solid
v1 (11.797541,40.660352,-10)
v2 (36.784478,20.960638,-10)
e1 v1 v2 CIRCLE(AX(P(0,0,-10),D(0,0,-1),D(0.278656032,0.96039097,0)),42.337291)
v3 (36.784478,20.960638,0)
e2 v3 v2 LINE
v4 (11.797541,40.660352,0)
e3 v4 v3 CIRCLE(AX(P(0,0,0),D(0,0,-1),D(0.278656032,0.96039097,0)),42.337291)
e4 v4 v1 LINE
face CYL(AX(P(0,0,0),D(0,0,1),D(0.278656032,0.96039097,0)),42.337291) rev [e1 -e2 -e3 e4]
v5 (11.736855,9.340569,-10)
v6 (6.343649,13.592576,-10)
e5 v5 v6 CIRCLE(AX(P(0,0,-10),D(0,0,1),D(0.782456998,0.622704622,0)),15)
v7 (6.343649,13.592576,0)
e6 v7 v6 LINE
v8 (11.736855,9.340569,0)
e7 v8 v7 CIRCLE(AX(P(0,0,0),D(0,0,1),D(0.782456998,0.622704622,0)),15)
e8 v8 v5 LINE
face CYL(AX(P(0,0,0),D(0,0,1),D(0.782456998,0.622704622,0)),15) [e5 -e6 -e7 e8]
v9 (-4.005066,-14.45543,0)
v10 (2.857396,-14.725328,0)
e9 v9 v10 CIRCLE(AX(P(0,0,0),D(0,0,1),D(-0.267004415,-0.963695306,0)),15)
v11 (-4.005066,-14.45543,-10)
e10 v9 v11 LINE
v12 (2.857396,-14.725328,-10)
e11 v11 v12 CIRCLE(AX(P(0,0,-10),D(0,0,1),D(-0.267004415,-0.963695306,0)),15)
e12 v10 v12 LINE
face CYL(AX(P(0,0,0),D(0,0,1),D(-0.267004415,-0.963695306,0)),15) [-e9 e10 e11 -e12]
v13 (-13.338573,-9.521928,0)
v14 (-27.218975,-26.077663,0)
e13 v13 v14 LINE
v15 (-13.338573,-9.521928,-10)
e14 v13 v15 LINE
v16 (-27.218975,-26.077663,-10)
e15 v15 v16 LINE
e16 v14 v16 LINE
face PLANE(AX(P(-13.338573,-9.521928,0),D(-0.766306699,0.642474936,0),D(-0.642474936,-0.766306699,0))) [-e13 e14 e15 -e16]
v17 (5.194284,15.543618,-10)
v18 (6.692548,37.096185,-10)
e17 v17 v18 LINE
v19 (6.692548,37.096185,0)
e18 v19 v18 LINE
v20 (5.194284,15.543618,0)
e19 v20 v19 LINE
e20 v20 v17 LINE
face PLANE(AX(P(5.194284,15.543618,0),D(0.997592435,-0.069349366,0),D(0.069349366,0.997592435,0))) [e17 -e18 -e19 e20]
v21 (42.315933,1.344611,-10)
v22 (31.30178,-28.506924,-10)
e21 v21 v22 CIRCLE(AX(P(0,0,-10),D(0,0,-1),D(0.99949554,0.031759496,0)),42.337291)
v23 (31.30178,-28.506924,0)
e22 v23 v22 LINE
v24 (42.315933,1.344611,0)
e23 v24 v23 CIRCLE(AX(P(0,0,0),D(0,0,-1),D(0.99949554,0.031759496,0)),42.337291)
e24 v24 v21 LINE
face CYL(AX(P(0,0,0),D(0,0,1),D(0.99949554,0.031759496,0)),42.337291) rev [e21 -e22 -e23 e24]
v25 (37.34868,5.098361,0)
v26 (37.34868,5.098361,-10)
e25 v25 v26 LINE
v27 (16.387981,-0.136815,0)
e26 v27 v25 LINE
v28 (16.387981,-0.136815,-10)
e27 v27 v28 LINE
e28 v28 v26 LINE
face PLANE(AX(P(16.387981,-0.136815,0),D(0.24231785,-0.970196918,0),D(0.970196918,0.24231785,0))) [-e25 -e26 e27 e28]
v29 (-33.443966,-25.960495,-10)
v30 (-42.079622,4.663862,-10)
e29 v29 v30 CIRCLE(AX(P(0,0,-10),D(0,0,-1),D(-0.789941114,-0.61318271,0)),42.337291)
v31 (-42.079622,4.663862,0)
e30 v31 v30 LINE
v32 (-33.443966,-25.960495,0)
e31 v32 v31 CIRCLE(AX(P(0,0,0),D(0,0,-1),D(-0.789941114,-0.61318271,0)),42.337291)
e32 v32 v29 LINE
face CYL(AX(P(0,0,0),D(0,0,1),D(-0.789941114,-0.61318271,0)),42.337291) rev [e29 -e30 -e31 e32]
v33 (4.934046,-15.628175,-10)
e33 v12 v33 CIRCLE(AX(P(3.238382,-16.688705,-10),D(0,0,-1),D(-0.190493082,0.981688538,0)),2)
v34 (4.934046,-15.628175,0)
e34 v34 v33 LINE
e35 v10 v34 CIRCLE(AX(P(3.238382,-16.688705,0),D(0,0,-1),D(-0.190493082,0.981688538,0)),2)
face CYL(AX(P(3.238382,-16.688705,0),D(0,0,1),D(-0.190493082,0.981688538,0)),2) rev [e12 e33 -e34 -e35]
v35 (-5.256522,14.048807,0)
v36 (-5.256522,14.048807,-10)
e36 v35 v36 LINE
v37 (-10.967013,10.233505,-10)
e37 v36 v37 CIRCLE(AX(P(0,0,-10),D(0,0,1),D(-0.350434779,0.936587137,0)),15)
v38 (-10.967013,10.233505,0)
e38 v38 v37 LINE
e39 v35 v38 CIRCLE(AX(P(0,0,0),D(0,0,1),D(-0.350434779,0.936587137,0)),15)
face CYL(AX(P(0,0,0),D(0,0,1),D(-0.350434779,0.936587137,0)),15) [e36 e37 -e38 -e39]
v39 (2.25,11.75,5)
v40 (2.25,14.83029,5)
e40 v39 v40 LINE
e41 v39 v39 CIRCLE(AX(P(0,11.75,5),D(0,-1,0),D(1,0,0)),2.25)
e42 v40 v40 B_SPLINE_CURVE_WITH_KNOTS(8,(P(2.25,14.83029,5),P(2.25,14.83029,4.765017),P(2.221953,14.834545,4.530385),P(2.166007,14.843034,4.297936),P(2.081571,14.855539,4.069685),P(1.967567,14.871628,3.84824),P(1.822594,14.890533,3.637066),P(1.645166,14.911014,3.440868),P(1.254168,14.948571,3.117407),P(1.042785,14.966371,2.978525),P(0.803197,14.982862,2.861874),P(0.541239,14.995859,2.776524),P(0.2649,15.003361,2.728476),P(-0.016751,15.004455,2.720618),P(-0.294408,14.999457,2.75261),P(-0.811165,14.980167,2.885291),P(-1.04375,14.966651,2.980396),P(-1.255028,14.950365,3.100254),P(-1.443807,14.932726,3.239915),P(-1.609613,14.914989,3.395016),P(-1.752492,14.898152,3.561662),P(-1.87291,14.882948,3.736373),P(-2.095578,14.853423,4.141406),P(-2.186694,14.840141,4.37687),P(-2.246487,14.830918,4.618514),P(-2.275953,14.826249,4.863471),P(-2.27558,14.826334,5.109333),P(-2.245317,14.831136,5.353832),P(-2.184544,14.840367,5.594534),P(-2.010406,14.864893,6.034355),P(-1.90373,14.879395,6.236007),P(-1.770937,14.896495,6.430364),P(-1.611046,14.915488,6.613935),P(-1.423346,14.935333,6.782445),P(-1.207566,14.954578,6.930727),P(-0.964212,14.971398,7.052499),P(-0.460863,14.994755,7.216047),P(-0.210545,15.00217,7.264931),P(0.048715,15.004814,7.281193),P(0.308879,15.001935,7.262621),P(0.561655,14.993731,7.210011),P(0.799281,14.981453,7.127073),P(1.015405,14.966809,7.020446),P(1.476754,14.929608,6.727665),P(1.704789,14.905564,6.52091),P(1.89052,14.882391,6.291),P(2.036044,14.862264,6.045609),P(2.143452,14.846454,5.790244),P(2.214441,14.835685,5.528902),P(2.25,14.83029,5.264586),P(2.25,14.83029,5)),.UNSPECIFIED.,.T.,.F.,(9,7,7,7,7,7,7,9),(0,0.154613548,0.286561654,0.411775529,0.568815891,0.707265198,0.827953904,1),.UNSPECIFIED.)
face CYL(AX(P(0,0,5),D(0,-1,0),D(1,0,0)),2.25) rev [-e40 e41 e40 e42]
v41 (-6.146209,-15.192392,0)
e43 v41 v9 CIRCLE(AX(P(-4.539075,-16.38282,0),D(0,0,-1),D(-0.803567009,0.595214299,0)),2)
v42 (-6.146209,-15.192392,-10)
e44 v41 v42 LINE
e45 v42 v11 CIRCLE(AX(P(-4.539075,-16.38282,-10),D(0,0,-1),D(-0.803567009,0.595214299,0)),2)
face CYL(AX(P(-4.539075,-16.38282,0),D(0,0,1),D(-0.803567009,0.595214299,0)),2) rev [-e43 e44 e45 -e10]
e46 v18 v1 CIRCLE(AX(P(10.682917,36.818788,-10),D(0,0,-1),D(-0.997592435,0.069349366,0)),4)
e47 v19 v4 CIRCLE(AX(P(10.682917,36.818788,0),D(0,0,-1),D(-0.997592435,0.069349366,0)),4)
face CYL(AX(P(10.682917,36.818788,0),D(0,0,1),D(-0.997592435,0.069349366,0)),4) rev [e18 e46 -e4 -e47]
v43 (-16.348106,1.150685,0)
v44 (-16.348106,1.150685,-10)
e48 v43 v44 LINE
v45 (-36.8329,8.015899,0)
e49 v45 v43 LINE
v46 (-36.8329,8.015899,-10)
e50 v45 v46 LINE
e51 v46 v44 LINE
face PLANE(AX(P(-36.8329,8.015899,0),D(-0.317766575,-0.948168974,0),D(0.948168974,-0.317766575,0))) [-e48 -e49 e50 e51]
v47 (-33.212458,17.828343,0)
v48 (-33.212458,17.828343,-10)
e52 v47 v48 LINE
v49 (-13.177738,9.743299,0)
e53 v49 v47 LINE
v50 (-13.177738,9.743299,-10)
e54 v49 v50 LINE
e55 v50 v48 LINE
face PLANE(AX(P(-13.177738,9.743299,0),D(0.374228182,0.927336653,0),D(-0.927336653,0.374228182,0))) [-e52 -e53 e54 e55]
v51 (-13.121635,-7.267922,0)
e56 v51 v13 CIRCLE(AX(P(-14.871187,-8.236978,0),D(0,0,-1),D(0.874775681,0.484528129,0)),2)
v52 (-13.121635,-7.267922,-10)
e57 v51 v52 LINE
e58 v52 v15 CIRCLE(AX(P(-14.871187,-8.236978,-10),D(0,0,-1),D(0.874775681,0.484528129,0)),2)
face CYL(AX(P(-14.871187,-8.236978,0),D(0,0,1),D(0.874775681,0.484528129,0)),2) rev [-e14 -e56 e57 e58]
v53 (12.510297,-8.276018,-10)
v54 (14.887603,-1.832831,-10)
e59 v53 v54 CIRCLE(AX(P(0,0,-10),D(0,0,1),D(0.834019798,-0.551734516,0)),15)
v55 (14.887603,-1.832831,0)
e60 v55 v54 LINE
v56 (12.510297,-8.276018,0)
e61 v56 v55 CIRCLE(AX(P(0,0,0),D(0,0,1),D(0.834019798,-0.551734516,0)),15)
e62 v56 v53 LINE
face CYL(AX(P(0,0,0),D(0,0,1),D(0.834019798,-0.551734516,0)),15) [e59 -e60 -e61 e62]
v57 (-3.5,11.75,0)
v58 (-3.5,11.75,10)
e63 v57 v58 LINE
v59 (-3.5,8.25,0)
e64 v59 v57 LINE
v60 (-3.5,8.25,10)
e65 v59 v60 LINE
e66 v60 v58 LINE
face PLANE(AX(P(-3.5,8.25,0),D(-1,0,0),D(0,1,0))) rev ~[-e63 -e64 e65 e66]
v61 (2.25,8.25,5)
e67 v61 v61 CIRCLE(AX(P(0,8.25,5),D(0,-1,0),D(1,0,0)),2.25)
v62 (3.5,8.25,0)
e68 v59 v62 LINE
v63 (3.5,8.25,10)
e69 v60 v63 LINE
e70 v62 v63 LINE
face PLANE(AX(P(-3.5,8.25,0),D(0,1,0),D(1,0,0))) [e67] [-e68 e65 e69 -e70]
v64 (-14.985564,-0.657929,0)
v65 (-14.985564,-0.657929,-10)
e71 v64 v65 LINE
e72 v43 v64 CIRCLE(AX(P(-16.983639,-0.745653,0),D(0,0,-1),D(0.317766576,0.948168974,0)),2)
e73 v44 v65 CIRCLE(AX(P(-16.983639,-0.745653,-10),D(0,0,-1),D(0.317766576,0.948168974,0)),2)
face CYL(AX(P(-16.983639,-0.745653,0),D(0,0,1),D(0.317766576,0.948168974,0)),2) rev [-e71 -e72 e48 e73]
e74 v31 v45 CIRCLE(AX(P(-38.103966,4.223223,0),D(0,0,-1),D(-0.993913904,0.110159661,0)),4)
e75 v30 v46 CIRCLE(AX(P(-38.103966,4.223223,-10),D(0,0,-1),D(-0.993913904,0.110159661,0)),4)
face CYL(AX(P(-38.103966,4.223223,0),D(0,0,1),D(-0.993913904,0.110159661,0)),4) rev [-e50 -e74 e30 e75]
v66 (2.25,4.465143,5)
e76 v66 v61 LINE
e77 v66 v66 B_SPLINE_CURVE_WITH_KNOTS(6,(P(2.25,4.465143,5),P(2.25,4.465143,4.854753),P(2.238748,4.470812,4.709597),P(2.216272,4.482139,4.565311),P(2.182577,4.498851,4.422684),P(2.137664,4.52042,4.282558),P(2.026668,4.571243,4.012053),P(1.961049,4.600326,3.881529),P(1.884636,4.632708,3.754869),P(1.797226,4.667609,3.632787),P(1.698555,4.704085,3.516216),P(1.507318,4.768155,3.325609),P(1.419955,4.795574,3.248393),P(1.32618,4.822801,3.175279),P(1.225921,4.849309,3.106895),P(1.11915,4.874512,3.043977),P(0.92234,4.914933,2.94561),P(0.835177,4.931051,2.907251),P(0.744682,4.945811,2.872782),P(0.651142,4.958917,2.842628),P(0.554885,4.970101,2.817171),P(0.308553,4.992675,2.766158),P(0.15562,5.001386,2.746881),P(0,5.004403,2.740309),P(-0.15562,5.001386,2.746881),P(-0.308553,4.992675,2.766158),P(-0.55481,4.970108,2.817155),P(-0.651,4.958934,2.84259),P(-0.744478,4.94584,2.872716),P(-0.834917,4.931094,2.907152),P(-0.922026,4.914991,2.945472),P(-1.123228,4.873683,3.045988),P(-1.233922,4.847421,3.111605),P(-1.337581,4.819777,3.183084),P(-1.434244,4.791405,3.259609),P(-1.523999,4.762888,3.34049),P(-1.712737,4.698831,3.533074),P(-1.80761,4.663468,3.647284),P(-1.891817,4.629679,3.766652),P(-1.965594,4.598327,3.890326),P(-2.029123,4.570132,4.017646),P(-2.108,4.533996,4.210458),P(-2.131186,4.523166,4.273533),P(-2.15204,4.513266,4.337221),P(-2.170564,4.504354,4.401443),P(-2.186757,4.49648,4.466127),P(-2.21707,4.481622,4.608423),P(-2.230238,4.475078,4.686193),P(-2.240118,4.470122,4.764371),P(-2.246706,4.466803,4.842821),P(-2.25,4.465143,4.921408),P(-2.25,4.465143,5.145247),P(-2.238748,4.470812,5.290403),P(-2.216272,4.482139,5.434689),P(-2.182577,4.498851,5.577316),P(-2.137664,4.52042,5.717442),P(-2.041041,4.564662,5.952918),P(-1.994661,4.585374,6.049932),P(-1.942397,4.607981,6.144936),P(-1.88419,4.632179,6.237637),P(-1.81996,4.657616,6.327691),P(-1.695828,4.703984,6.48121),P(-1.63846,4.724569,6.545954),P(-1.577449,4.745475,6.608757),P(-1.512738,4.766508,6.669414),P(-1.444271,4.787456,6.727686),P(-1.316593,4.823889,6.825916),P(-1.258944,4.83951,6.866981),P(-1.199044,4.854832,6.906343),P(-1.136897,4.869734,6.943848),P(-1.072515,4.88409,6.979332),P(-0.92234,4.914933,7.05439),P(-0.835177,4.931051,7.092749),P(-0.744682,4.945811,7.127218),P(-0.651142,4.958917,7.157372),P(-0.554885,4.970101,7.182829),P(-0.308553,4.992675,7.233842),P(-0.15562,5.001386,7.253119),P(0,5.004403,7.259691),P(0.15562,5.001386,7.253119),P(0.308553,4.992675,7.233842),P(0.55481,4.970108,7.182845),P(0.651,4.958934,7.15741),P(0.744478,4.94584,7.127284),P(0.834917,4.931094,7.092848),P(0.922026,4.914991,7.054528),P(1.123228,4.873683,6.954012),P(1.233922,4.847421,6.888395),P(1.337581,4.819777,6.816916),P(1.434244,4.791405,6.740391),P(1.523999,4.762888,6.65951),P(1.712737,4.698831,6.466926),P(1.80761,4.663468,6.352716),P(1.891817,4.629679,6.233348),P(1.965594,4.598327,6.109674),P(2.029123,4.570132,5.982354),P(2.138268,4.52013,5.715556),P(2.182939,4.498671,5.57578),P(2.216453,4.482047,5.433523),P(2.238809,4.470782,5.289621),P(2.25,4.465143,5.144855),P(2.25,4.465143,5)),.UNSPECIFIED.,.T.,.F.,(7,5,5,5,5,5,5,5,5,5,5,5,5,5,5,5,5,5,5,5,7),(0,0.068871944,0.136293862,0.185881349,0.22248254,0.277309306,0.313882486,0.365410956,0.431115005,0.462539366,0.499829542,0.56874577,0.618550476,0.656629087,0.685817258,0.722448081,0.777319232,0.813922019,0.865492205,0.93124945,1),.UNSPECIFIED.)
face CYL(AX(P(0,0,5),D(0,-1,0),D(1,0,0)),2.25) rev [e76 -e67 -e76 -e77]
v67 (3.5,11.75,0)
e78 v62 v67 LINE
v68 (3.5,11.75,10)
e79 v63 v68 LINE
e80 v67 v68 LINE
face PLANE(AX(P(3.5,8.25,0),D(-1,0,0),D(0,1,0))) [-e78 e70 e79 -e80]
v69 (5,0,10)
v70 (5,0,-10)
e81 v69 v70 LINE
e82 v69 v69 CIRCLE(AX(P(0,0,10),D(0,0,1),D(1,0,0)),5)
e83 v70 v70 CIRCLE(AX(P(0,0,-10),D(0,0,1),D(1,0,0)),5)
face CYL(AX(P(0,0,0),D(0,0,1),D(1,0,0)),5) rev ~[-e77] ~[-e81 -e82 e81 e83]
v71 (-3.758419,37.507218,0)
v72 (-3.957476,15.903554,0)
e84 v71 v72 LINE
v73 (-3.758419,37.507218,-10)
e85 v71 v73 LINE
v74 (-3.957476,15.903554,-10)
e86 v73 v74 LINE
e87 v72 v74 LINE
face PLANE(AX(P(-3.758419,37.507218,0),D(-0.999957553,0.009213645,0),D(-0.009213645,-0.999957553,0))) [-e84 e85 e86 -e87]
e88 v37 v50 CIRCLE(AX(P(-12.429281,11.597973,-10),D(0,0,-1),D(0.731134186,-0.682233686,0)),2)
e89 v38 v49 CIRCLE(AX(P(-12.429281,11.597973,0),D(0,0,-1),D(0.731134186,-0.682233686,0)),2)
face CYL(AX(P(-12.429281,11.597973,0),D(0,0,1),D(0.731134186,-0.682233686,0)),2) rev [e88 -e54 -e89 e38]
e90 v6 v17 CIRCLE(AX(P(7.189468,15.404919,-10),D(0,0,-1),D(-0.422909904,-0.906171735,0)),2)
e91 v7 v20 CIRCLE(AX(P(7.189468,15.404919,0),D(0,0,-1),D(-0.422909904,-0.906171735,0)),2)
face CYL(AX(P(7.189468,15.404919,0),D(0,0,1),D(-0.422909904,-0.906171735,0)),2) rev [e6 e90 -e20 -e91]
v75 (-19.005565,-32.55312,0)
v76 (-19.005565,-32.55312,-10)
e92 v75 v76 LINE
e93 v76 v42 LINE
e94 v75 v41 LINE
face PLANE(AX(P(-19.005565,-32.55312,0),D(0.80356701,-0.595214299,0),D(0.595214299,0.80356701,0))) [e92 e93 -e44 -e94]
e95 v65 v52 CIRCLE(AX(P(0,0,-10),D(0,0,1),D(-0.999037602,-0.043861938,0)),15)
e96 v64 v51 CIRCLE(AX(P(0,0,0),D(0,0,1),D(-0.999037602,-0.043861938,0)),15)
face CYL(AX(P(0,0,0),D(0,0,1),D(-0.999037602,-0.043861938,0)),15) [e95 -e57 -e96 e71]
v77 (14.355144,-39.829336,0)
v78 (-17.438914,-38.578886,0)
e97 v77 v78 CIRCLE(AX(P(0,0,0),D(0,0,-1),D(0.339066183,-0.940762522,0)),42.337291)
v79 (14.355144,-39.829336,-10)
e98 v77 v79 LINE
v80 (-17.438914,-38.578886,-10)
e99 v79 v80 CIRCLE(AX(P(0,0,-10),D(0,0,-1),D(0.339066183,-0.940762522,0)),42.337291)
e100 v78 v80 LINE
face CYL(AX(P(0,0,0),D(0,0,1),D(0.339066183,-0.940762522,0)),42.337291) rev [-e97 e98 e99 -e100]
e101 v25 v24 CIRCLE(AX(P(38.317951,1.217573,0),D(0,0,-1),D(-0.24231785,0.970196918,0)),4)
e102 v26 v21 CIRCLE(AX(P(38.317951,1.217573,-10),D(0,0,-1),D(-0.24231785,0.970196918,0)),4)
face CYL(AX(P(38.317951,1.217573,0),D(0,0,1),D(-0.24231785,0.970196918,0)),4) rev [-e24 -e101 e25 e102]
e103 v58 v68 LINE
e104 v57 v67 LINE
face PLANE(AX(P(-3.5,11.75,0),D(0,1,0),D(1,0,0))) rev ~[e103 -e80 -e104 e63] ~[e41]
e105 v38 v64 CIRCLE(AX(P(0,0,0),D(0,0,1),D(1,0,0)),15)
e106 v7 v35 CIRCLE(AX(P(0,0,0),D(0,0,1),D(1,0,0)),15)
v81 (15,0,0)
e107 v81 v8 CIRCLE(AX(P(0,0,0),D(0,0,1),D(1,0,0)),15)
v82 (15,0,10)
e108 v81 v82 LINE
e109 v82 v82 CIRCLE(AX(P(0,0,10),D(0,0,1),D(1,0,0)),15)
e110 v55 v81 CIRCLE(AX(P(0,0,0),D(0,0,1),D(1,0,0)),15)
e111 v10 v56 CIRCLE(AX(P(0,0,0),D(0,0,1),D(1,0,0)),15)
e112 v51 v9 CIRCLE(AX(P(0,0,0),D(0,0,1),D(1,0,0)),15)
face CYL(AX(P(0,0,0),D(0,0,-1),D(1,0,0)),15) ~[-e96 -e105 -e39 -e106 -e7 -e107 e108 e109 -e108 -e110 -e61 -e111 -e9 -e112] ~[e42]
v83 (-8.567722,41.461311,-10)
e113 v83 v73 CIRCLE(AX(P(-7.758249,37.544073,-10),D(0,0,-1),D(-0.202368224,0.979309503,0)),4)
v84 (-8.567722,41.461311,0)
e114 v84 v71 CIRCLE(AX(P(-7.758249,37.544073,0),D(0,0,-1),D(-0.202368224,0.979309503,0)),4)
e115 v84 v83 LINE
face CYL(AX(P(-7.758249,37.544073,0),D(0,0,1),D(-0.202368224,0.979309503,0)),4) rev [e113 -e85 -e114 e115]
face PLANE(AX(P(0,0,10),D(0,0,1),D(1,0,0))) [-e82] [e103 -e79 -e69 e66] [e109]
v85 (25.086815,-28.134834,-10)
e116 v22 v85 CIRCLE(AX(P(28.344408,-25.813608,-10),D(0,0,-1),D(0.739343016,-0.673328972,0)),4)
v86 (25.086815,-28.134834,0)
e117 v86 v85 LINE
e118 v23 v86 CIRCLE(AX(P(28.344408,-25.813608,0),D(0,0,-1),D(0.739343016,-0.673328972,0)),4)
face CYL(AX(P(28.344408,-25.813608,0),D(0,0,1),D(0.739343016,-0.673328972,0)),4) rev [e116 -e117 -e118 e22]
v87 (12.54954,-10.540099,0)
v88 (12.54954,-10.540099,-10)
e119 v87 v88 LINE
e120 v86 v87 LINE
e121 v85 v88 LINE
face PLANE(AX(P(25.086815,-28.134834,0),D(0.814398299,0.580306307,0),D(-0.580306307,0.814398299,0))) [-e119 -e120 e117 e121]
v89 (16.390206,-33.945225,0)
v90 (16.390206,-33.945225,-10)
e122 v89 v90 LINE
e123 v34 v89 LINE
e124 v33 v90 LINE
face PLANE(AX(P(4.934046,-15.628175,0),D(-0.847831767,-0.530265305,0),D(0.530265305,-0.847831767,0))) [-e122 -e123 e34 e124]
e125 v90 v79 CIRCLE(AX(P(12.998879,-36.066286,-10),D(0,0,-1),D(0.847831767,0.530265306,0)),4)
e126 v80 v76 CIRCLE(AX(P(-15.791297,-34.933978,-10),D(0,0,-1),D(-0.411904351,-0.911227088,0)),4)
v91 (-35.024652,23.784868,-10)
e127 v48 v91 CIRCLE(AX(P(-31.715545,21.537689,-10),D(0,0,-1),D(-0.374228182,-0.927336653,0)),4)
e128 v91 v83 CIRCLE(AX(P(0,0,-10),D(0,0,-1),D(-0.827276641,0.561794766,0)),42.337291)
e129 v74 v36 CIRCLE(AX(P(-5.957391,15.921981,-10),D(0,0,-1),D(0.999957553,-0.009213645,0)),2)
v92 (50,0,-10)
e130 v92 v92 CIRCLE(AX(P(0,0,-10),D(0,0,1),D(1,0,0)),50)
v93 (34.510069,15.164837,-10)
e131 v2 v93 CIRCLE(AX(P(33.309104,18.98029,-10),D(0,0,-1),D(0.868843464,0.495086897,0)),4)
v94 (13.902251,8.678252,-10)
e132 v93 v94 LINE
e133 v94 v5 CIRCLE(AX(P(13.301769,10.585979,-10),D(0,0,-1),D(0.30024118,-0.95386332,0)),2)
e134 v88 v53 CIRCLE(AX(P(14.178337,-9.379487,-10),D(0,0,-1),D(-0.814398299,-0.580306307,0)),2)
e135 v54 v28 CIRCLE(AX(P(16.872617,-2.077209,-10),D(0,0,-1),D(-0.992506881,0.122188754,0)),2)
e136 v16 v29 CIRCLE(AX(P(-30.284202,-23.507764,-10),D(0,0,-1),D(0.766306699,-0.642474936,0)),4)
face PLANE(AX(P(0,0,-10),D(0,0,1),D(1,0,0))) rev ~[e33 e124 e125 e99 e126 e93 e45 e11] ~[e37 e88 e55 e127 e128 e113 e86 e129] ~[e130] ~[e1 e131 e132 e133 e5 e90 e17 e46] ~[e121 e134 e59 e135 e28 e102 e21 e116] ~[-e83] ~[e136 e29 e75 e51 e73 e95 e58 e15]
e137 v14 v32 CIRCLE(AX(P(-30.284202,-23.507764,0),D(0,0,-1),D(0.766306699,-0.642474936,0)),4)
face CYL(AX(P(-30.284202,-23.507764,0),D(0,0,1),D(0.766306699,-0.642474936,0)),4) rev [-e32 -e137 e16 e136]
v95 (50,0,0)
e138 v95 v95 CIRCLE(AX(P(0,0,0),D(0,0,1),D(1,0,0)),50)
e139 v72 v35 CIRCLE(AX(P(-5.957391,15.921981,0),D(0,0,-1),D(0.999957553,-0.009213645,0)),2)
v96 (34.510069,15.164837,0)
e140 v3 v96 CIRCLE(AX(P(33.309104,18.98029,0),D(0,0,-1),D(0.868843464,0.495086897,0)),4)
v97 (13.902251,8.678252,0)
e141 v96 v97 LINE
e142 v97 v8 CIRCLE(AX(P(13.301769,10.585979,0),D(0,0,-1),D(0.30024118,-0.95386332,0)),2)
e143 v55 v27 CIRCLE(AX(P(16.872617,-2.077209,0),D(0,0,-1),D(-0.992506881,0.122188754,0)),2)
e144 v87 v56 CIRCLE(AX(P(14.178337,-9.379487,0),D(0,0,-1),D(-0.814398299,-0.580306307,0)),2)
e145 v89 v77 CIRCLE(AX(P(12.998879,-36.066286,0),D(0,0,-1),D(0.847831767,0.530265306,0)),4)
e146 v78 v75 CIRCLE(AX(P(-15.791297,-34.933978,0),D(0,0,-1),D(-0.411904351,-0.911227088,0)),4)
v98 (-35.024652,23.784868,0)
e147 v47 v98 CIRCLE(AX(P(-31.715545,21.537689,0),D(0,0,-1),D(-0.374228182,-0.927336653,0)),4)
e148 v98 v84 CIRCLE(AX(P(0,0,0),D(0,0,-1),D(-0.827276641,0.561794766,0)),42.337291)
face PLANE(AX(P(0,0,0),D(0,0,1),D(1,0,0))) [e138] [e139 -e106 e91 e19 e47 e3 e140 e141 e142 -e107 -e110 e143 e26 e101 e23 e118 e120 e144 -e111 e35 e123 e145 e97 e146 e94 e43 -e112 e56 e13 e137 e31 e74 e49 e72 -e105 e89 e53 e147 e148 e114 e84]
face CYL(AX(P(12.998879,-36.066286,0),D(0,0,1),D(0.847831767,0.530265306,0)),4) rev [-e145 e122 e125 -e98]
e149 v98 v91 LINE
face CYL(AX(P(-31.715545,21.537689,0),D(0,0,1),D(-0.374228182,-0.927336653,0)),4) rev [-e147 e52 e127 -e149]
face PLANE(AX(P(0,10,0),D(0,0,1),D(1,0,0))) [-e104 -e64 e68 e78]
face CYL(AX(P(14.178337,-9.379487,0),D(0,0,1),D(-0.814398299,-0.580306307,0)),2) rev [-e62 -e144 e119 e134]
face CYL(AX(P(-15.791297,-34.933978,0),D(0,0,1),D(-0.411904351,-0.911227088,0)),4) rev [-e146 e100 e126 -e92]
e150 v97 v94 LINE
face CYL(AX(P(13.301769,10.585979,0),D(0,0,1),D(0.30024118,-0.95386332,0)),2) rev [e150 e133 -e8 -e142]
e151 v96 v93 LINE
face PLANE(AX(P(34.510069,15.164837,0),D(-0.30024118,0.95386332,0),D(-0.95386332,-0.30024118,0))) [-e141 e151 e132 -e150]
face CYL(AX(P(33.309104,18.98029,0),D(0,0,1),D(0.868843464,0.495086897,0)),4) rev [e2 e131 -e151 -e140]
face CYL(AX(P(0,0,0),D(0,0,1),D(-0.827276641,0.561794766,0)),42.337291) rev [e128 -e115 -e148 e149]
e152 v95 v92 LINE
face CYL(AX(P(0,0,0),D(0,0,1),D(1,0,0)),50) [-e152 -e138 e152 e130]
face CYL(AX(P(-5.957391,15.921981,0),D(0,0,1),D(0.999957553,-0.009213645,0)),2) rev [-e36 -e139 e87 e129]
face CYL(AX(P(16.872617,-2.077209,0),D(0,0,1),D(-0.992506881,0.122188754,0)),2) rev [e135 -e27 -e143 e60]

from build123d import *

# Parameters (mm, degrees)
ESQUISSE1_R              = 15
ESQUISSE1_R_2            = 5
BOSS_EXTRU_4_DEPTH       = 10
ESQUISSE3_R              = 50
BOSS_EXTRU_5_DEPTH       = 10
ESQUISSE14_R             = 5
ENL_V_MAT_EXTRU_1_DEPTH  = 10
ENL_V_MAT_EXTRU_7_DEPTH  = 10
ENL_V_MAT_EXTRU_8_REACH  = 52
ESQUISSE20_R             = 2.25
ESQUISSE25_W             = 7
ESQUISSE25_H             = 3.5
ENL_V_MAT_EXTRU_10_DEPTH = 10


with BuildPart() as part:
    # Esquisse1 → Boss.-Extru.4 (new body)
    with BuildSketch(Plane.XY):
        Circle(ESQUISSE1_R)
        Circle(ESQUISSE1_R_2, mode=Mode.SUBTRACT)
    extrude(amount=BOSS_EXTRU_4_DEPTH)

    # Esquisse3 → Boss.-Extru.5 (add)
    with BuildSketch(Plane.XY):
        Circle(ESQUISSE3_R)
    extrude(amount=-BOSS_EXTRU_5_DEPTH)

    # Esquisse14 → Enlèv. mat.-Extru.1 (cut)
    with BuildSketch(Plane.XY):
        Circle(ESQUISSE14_R)
    extrude(amount=-ENL_V_MAT_EXTRU_1_DEPTH, mode=Mode.SUBTRACT)

    # Esquisse19 → Enlèv. mat.-Extru.7 (cut)
    with BuildSketch(Plane.XY):
        with BuildLine():
            Line((-13.338573188, -9.521928054), (-27.218975217, -26.077663465))
            ThreePointArc((-27.218975217, -26.077663465), (-30.359478039, -27.507055347), (-33.443966468, -25.96049456))
            ThreePointArc((-33.443966468, -25.96049456), (-40.74820108, -11.49044297), (-42.079621744, 4.663861575))
            ThreePointArc((-42.079621744, 4.663861575), (-40.257507229, 7.594018196), (-36.832899826, 8.015898828))
            Line((-36.832899826, 8.015898828), (-16.348106085, 1.150685003))
            ThreePointArc((-16.348106085, 1.150685003), (-15.386221176, 0.457781948), (-14.985564031, -0.65792907))
            ThreePointArc((-14.985564031, -0.65792907), (-14.436989432, -4.07103625), (-13.121635222, -7.267921925))
            ThreePointArc((-13.121635222, -7.267921925), (-12.88038592, -8.428583804), (-13.338573188, -9.521928054))
        make_face()
        with BuildLine():
            Line((-13.177737519, 9.74329936), (-33.212457679, 17.828342562))
            ThreePointArc((-33.212457679, 17.828342562), (-35.542358886, 20.373431853), (-35.024651516, 23.784868238))
            ThreePointArc((-35.024651516, 23.784868238), (-23.519947285, 35.203100014), (-8.567722294, 41.461310949))
            ThreePointArc((-8.567722294, 41.461310949), (-5.217913395, 40.633845258), (-3.758419184, 37.507218357))
            Line((-3.758419184, 37.507218357), (-3.957476136, 15.903554042))
            ThreePointArc((-3.957476136, 15.903554042), (-4.319227318, 14.774628312), (-5.256521685, 14.048807059))
            ThreePointArc((-5.256521685, 14.048807059), (-8.333060636, 12.472373489), (-10.967012784, 10.233505294))
            ThreePointArc((-10.967012784, 10.233505294), (-11.996317693, 9.645399328), (-13.177737519, 9.74329936))
        make_face()
        with BuildLine():
            Line((5.194283506, 15.543618221), (6.692547521, 37.096185131))
            ThreePointArc((6.692547521, 37.096185131), (8.393092207, 40.098528699), (11.797541387, 40.660351549))
            ThreePointArc((11.797541387, 40.660351549), (26.212074244, 33.247155288), (36.78447816, 20.96063781))
            ThreePointArc((36.78447816, 20.96063781), (37.032659401, 17.519079267), (34.510069026, 15.16483694))
            Line((34.510069026, 15.16483694), (13.902251323, 8.678251937))
            ThreePointArc((13.902251323, 8.678251937), (12.716791888, 8.67344052), (11.736854967, 9.340569333))
            ThreePointArc((11.736854967, 9.340569333), (9.286874729, 11.779386986), (6.343648566, 13.59257602))
            ThreePointArc((6.343648566, 13.59257602), (5.466253846, 14.389768423), (5.194283506, 15.543618221))
        make_face()
        with BuildLine():
            Line((-19.005564812, -32.553120431), (-6.146209076, -15.1923916))
            ThreePointArc((-6.146209076, -15.1923916), (-5.189980327, -14.491703509), (-4.005066227, -14.455429586))
            ThreePointArc((-4.005066227, -14.455429586), (-0.589489528, -14.988412261), (2.857396229, -14.725328071))
            ThreePointArc((2.857396229, -14.725328071), (4.035801406, -14.854550596), (4.934045928, -15.628174536))
            Line((4.934045928, -15.628174536), (16.390205856, -33.945224931))
            ThreePointArc((16.390205856, -33.945224931), (16.779169577, -37.373726988), (14.35514352, -39.829336241))
            ThreePointArc((14.35514352, -39.829336241), (-1.663825962, -42.304584315), (-17.438914178, -38.578885977))
            ThreePointArc((-17.438914178, -38.578885977), (-19.662594375, -35.940483902), (-19.005564812, -32.553120431))
        make_face()
        with BuildLine():
            Line((16.387981273, -0.136814991), (37.348679518, 5.098360702))
            ThreePointArc((37.348679518, 5.098360702), (40.729575141, 4.408821782), (42.315933076, 1.344611014))
            ThreePointArc((42.315933076, 1.344611014), (39.719900084, -14.655228017), (31.301780055, -28.506924356))
            ThreePointArc((31.301780055, -28.506924356), (28.105355598, -29.80645882), (25.086814797, -28.134833694))
            Line((25.086814797, -28.134833694), (12.549539974, -10.540099382))
            ThreePointArc((12.549539974, -10.540099382), (12.178636933, -9.414147271), (12.510296976, -8.276017736))
            ThreePointArc((12.510296976, -8.276017736), (14.072664867, -5.192311964), (14.887603211, -1.832831318))
            ThreePointArc((14.887603211, -1.832831318), (15.374648361, -0.752033352), (16.387981273, -0.136814991))
        make_face()
    extrude(amount=-ENL_V_MAT_EXTRU_7_DEPTH, mode=Mode.SUBTRACT)

    # Esquisse20 → Enlèv. mat.-Extru.8 (cut, up to next)
    with BuildSketch(Plane(origin=(0, 0, 0), x_dir=(1, 0, 0), z_dir=(0, 1, 0)), mode=Mode.PRIVATE) as enl_v_mat_extru_8_sk1:
        with Locations((0, -5)):
            Circle(ESQUISSE20_R)
    enl_v_mat_extru_8_tool1 = extrude(enl_v_mat_extru_8_sk1.sketch, amount=ENL_V_MAT_EXTRU_8_REACH, mode=Mode.PRIVATE) & part.part
    add(enl_v_mat_extru_8_tool1.solids().sort_by_distance((0, 0, 5))[0], mode=Mode.SUBTRACT)

    # Esquisse25 → Enlèv. mat.-Extru.10 (cut)
    with BuildSketch(Plane.XY):
        with Locations((0, 10)):
            Rectangle(ESQUISSE25_W, ESQUISSE25_H)
    extrude(amount=ENL_V_MAT_EXTRU_10_DEPTH, mode=Mode.SUBTRACT)


solid = part.part
